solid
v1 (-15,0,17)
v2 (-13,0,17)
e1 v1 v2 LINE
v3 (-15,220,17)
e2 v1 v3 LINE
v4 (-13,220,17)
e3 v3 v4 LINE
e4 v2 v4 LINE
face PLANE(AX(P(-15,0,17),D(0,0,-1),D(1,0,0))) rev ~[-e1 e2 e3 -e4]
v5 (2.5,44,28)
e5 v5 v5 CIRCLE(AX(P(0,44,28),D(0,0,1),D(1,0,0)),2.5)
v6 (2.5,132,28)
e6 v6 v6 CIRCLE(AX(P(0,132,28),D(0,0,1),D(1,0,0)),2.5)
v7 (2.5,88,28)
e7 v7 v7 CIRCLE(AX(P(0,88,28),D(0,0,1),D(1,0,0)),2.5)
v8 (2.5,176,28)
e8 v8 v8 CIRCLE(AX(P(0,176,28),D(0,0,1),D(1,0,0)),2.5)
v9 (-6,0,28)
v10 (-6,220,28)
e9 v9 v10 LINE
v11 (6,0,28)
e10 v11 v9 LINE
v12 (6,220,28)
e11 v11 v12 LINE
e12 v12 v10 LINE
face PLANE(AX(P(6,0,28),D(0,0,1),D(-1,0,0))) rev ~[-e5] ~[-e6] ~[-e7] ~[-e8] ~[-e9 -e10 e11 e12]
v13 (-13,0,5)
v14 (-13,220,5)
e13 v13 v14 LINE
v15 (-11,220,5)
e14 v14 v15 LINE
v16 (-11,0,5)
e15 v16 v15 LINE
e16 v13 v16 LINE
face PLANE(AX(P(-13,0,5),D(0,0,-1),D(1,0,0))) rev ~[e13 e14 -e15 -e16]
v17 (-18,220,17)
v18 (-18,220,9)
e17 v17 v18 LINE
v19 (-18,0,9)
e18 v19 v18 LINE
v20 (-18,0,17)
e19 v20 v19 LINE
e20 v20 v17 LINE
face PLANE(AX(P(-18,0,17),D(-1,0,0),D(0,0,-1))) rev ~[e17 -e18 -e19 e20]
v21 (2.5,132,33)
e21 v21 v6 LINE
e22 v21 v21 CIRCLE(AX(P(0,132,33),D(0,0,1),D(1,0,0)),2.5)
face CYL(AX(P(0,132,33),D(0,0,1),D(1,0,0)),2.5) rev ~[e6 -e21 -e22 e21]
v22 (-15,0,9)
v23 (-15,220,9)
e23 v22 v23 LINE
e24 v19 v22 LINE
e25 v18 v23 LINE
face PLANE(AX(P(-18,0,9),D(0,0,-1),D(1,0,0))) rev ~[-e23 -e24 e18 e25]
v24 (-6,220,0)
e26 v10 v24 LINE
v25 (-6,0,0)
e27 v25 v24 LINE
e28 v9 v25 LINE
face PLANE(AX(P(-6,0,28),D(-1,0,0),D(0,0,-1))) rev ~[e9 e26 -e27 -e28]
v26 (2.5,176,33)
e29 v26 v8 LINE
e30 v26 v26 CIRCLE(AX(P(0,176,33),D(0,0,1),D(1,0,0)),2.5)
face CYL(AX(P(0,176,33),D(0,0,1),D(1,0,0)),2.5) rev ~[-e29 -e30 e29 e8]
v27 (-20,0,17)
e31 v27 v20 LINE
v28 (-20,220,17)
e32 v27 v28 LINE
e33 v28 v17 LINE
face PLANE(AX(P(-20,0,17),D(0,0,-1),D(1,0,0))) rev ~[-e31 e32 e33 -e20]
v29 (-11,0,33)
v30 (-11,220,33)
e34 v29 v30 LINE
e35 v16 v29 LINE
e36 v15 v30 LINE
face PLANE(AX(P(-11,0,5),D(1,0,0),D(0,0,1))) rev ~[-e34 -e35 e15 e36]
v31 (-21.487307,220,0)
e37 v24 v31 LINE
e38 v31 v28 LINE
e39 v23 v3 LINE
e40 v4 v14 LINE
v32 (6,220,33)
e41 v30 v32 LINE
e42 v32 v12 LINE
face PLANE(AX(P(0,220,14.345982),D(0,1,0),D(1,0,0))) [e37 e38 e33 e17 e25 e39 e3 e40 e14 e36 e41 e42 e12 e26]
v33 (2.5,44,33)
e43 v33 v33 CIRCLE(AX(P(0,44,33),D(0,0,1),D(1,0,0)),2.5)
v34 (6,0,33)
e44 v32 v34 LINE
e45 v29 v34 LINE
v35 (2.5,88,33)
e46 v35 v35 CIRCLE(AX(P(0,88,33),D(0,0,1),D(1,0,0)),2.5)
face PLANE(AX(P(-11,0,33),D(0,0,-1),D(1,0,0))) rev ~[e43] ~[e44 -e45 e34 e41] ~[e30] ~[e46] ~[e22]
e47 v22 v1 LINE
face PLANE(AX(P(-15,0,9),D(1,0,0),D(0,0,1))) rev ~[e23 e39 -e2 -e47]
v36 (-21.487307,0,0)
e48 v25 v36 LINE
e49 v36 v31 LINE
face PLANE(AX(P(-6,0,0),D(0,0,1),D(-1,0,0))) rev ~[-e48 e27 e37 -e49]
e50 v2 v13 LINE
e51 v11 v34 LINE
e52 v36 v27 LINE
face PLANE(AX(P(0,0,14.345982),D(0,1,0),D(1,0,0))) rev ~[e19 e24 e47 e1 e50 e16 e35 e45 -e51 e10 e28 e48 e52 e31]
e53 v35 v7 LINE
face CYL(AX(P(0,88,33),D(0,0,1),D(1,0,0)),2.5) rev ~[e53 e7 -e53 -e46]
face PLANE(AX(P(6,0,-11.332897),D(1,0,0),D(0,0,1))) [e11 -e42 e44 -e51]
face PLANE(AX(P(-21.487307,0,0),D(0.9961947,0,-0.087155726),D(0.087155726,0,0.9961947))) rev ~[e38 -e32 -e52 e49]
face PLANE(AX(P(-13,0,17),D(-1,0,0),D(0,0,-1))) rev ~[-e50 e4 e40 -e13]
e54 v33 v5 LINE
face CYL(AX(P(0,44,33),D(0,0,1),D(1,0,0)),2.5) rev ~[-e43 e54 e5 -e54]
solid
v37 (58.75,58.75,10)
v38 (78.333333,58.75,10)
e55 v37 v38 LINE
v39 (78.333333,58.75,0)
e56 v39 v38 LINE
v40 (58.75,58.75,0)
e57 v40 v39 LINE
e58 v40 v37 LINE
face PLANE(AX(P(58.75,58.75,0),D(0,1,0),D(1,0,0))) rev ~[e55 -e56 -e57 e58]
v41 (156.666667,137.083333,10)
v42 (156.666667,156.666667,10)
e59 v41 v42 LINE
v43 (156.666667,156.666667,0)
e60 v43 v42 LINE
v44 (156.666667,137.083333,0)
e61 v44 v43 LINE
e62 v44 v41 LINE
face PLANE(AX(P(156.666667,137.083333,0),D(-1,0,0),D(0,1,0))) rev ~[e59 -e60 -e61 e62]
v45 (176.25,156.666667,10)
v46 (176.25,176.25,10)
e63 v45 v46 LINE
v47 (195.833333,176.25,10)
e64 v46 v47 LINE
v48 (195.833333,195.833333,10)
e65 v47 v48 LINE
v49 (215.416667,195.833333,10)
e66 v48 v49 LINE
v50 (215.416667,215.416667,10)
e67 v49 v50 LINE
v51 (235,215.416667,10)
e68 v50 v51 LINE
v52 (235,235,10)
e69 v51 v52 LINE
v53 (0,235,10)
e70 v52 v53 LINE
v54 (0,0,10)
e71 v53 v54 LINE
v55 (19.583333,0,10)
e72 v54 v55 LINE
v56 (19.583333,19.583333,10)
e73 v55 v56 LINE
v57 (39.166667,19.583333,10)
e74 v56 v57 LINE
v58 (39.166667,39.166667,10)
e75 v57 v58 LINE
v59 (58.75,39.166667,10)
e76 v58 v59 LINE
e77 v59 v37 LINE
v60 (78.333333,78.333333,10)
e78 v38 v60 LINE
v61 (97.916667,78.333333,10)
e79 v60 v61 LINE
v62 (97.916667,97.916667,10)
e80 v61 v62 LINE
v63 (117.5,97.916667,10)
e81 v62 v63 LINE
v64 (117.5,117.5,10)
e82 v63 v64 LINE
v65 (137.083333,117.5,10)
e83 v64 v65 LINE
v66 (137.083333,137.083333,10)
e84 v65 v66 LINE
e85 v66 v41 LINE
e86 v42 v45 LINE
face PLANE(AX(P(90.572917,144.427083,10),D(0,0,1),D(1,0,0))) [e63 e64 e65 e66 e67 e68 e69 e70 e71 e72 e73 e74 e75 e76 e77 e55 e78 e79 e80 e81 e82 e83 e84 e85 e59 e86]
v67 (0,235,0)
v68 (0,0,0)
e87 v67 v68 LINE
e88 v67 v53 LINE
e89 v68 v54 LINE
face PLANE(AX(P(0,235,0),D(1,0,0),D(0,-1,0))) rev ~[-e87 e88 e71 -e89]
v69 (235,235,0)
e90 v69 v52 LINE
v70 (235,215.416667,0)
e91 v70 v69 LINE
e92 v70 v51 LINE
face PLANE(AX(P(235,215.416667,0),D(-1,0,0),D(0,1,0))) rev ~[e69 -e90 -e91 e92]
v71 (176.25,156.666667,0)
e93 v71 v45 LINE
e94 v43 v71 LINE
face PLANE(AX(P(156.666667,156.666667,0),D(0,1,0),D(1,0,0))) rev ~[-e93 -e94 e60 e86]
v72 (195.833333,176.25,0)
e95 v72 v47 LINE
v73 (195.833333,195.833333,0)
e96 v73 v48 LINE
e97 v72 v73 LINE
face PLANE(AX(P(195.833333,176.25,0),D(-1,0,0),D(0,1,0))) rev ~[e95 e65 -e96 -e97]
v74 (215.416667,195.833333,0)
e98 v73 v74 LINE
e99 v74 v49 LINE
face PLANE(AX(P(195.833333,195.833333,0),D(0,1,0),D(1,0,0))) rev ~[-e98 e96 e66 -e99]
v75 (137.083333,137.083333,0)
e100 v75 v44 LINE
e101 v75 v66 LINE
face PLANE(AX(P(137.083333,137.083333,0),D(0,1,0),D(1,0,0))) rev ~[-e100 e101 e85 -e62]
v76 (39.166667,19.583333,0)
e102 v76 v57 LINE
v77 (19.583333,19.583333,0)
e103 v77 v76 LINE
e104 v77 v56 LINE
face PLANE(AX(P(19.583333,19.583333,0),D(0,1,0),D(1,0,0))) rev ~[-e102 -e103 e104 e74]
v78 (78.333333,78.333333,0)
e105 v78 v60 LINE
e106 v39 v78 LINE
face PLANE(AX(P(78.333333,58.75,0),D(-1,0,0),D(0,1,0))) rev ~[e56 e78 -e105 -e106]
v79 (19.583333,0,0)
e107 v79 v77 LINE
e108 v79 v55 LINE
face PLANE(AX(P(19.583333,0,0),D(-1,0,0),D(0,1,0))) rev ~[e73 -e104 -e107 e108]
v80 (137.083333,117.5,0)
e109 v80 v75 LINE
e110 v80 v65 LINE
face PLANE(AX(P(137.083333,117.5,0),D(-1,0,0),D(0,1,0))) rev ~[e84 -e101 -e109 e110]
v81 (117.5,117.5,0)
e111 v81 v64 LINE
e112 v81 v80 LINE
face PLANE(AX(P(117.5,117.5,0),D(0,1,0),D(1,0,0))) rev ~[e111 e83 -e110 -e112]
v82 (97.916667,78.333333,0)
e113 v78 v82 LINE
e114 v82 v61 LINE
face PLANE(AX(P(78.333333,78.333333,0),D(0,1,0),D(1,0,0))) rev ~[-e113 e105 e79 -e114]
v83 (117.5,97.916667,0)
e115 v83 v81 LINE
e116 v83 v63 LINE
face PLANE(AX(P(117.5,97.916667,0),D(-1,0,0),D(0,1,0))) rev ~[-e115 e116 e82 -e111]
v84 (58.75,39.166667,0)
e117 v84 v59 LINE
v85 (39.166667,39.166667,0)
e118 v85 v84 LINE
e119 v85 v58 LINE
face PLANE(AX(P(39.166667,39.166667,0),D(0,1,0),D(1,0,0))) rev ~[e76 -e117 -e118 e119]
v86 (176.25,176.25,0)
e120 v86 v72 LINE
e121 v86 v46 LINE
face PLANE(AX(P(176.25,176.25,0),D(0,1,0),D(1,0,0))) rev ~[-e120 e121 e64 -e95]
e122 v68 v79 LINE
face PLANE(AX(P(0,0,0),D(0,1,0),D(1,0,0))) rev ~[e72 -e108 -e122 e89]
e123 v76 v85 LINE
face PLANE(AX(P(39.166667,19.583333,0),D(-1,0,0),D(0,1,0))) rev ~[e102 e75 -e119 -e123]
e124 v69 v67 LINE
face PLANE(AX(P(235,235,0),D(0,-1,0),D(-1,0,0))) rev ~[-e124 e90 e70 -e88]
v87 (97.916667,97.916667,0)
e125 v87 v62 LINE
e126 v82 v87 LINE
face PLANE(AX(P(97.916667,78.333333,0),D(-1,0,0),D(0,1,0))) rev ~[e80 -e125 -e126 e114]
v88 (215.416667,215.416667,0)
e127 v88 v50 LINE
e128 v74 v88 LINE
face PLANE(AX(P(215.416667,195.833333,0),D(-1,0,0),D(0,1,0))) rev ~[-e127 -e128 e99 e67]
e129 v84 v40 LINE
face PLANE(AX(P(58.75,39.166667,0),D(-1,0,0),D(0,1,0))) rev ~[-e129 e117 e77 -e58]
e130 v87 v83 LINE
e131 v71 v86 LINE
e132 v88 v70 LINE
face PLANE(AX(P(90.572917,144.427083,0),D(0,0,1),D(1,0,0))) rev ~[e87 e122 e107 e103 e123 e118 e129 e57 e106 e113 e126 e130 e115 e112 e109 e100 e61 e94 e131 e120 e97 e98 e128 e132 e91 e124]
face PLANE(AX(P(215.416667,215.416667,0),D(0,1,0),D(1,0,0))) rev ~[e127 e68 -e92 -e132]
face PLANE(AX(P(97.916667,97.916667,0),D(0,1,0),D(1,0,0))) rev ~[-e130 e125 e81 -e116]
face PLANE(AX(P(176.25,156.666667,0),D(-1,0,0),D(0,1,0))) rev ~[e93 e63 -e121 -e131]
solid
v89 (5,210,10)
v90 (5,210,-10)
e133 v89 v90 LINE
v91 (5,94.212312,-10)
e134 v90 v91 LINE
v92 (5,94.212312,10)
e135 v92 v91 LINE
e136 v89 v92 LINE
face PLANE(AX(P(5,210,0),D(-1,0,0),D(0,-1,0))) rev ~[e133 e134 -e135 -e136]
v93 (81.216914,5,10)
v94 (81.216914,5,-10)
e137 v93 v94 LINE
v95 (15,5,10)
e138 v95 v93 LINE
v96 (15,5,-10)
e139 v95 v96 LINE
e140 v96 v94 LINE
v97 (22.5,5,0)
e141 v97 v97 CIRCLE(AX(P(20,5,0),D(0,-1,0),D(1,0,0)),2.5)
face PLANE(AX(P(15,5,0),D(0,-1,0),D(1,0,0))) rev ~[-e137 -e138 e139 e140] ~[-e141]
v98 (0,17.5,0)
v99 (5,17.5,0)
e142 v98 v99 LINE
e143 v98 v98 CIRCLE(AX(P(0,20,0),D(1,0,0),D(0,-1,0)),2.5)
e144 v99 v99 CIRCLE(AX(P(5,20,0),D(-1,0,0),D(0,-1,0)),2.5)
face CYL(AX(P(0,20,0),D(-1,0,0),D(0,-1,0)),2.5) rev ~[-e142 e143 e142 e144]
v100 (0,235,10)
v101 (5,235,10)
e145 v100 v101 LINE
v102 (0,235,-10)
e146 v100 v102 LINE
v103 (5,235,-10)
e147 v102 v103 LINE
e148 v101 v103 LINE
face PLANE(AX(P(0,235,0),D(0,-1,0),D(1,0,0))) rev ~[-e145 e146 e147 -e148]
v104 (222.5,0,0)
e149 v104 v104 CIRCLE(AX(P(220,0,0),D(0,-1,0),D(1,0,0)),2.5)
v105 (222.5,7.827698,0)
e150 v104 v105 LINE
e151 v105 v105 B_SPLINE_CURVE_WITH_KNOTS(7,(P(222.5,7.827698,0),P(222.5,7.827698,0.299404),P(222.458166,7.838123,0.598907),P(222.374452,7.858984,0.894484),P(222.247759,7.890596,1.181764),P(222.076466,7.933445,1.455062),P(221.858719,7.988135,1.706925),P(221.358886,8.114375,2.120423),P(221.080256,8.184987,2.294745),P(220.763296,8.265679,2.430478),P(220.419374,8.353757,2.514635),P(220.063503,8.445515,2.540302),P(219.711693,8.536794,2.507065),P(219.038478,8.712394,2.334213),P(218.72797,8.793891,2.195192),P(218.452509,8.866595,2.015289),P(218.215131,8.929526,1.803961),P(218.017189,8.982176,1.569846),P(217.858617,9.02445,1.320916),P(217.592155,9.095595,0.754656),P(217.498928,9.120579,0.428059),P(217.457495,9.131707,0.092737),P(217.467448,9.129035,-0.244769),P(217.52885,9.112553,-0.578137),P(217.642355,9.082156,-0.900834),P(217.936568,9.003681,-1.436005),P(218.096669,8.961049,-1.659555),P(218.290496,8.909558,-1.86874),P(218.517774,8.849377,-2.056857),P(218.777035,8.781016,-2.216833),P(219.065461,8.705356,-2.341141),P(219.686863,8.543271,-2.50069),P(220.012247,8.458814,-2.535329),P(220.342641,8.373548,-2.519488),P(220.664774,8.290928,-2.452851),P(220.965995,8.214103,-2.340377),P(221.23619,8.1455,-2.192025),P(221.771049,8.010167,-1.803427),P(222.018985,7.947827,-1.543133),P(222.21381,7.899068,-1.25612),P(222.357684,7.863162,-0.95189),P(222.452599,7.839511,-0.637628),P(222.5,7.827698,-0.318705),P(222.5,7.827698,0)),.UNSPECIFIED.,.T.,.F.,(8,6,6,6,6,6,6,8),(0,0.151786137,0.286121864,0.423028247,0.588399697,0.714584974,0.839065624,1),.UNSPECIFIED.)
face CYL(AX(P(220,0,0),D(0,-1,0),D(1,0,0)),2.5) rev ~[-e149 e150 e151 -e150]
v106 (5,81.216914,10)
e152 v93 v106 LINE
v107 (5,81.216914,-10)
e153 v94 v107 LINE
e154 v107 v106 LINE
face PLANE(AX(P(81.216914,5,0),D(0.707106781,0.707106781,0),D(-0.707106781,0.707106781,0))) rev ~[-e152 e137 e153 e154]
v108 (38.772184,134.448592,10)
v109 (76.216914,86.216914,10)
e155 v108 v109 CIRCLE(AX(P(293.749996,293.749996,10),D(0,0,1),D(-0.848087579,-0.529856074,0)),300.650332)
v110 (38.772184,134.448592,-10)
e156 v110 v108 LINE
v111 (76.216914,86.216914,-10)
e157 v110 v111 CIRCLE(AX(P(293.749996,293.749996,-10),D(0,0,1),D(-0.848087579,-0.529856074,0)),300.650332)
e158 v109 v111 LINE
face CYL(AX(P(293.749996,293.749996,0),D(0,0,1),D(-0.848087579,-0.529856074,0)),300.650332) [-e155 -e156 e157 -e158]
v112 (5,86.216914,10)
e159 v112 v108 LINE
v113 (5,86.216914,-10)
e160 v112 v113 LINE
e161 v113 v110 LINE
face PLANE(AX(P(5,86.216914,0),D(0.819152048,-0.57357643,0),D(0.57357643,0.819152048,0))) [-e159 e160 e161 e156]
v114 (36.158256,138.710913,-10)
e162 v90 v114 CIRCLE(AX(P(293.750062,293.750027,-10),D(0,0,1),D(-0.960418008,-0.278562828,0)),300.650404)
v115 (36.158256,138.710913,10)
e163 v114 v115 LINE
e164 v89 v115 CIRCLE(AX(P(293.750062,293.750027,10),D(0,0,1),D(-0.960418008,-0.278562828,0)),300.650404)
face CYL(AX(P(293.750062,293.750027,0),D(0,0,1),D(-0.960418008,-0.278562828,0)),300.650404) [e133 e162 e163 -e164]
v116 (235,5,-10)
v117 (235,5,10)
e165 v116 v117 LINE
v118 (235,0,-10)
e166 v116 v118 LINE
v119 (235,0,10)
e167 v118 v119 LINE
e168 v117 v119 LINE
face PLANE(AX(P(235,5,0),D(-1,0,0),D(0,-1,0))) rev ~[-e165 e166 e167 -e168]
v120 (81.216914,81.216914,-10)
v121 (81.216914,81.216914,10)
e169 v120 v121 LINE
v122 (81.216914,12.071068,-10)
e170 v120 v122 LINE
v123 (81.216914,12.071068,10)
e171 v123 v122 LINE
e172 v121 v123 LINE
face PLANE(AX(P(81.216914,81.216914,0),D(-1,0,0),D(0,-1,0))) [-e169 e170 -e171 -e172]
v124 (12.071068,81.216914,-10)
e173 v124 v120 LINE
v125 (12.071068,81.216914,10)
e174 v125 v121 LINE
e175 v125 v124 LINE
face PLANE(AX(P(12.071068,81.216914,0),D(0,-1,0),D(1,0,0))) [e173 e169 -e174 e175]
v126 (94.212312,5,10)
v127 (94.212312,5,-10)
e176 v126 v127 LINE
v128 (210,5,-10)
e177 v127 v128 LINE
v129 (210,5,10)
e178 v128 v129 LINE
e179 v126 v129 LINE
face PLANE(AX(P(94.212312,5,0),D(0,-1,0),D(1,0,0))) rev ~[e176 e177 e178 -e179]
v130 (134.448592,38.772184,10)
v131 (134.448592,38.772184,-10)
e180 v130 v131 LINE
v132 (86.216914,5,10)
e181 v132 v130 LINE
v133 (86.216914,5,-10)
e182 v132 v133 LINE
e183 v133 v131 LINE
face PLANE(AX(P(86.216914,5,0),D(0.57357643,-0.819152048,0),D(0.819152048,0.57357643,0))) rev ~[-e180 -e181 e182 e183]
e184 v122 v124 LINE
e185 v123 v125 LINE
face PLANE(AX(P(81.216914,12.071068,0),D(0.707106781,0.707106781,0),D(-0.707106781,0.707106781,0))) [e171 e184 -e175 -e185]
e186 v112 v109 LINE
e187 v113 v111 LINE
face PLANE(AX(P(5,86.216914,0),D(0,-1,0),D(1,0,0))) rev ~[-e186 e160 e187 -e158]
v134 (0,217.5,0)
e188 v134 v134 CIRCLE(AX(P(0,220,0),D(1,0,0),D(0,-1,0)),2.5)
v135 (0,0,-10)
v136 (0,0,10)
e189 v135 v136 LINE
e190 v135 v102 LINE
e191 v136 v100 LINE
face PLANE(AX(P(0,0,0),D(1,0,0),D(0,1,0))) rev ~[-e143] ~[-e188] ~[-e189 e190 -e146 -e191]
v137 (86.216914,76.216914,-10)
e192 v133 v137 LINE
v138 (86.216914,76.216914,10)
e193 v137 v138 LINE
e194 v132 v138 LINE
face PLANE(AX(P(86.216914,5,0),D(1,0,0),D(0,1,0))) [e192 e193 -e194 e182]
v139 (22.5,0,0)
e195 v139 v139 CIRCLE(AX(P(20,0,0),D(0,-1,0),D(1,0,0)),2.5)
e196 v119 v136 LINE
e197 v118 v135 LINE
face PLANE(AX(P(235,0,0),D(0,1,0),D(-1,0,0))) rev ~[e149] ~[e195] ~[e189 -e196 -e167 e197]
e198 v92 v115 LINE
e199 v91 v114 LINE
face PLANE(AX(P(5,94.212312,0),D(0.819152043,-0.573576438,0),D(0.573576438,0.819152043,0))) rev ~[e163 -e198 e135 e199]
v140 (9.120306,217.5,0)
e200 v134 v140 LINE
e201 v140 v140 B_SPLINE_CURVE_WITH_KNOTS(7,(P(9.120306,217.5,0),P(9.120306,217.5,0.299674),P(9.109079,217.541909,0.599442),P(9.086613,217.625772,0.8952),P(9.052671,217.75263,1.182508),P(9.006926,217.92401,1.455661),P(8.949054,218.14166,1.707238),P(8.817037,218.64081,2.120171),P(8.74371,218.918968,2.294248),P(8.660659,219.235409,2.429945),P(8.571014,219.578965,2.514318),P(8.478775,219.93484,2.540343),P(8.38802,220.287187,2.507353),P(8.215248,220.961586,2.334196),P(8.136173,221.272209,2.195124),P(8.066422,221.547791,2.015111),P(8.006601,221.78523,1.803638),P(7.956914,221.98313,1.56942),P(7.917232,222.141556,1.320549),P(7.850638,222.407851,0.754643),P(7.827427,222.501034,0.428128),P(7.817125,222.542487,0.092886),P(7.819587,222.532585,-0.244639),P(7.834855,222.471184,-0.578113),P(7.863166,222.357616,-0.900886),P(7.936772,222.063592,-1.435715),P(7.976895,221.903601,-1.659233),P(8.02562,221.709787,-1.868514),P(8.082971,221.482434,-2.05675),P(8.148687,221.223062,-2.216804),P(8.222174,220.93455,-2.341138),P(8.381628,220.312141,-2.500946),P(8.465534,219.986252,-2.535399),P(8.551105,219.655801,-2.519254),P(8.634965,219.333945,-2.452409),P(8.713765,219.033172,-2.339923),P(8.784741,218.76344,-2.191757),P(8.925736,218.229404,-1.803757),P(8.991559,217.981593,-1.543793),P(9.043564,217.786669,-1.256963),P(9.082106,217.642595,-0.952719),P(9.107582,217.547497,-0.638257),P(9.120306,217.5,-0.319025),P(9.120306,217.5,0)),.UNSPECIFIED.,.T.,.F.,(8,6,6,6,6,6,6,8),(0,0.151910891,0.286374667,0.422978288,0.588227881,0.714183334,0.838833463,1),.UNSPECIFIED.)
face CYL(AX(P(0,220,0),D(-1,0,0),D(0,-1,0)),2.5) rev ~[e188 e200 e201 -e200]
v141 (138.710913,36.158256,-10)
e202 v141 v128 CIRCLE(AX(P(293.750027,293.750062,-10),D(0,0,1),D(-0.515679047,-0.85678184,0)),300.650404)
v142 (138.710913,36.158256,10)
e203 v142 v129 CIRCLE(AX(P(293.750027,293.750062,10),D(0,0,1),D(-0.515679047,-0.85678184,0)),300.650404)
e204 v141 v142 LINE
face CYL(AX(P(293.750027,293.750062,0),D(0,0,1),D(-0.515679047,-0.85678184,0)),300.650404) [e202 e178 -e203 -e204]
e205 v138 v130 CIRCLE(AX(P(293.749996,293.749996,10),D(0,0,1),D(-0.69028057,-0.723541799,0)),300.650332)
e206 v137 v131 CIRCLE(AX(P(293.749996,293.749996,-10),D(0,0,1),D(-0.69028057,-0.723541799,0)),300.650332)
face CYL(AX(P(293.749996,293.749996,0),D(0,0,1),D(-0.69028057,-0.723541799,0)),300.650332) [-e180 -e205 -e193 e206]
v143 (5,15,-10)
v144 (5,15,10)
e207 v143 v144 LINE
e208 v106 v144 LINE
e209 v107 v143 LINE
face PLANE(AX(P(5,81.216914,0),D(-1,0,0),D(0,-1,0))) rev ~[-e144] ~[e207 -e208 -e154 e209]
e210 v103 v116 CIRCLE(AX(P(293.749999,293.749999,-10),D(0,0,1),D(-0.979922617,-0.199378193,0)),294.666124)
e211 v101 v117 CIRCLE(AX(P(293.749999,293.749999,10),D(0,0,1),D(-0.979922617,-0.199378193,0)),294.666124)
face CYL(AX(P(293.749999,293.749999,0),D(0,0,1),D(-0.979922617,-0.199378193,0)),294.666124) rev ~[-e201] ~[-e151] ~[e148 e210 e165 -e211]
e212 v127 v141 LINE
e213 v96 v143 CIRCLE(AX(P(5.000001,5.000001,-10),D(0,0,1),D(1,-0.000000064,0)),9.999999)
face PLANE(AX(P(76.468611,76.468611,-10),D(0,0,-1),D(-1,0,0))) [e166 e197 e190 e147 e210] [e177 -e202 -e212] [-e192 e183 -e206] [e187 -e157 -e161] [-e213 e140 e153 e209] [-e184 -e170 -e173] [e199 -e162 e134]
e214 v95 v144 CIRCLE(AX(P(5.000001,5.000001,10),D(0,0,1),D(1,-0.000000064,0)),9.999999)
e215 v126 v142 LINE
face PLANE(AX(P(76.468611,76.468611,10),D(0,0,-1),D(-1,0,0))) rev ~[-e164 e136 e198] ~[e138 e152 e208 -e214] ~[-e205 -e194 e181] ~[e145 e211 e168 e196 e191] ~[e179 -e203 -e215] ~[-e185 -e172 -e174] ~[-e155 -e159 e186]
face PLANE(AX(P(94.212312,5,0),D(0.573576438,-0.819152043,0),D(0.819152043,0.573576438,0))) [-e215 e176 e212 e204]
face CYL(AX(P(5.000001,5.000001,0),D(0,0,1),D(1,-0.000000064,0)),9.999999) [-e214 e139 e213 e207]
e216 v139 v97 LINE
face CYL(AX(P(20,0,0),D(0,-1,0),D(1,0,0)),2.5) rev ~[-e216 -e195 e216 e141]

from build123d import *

# Parameters (mm, degrees)
PAD_DEPTH            = 10
POCKET_DEPTH         = 3
PAD001_DEPTH         = 10
PAD001_DEPTH_BACK    = 10
SKETCH003_R          = 2.5
POCKET001_DEPTH      = 50
SKETCH004_R          = 3.175
PAD002_DEPTH         = 5
FILLET_R             = 3.175
SKETCH009_R          = 2.5
POCKET004_DEPTH      = 20
SKETCH010_W          = 169.420898
SKETCH010_H          = 244.634888
POCKET005_DEPTH      = 100
POCKET005_DEPTH_BACK = -100
PAD003_DEPTH         = 220
SKETCH007_R          = 2.5
POCKET002_DEPTH      = 5
SKETCH008_W          = 33.656536
SKETCH008_H          = 69.505769
POCKET003_DEPTH      = 1000
POCKET003_DEPTH_BACK = -10000


with BuildPart() as tetris:
    # Sketch → Pad (new body)
    with BuildSketch(Plane.XY):
        Polygon((0, 0), (19.583333, 0), (19.583333, 19.583333), (39.166667, 19.583333), (39.166667, 39.166667), (58.75, 39.166667), (58.75, 58.75), (78.333333, 58.75), (78.333333, 78.333333), (97.916667, 78.333333), (97.916667, 97.916667), (117.5, 97.916667), (117.5, 117.5), (137.083333, 117.5), (137.083333, 137.083333), (156.666667, 137.083333), (156.666667, 156.666667), (176.25, 156.666667), (176.25, 176.25), (195.833333, 176.25), (195.833333, 195.833333), (215.416667, 195.833333), (215.416667, 215.416667), (235, 215.416667), (235, 235), (0, 235), align=None)
    extrude(amount=PAD_DEPTH)

    # Sketch001 (on Face28 of Pad) → Pocket (cut)
    with BuildSketch(Plane.XY.offset(10)):
        Polygon((74.866753, 25.089148), (93.950086, 25.089148), (94.200086, 24.839148), (93.950086, 24.589148), (74.866753, 24.589148), (74.616753, 24.839148), align=None)
    extrude(amount=-POCKET_DEPTH, mode=Mode.SUBTRACT)


with BuildPart() as simple:
    # Sketch002 → Pad001 (new body, two sides)
    with BuildSketch(Plane.XY) as pad001_sk:
        with BuildLine():
            Line((0, 0), (0, 235))
            Line((0, 235), (5, 235))
            ThreePointArc((5, 235), (85.389585, 85.389585), (235, 5))
            Line((235, 5), (235, 0))
            Line((235, 0), (0, 0))
        make_face()
        with BuildLine():
            Line((5, 210), (5, 94.212312))
            Line((5, 94.212312), (36.158256, 138.710913))
            ThreePointArc((5, 210), (18.263415, 173.34333), (36.158256, 138.710913))
        make_face(mode=Mode.SUBTRACT)
        with BuildLine():
            Line((15, 5), (81.216914, 5))
            Line((81.216914, 5), (5, 81.216914))
            Line((5, 81.216914), (5, 15))
            ThreePointArc((15, 5), (12.071068, 12.071068), (5, 15))
        make_face(mode=Mode.SUBTRACT)
        with BuildLine():
            Line((5, 86.216914), (76.216914, 86.216914))
            ThreePointArc((38.772184, 134.448592), (56.266923, 109.379684), (76.216914, 86.216914))
            Line((5, 86.216914), (38.772184, 134.448592))
        make_face(mode=Mode.SUBTRACT)
        with BuildLine():
            Line((86.216914, 5), (86.216914, 76.216914))
            ThreePointArc((86.216914, 76.216914), (109.379684, 56.266923), (134.448592, 38.772184))
            Line((86.216914, 5), (134.448592, 38.772184))
        make_face(mode=Mode.SUBTRACT)
        Polygon((12.071068, 81.216914), (81.216914, 81.216914), (81.216914, 12.071068), align=None, mode=Mode.SUBTRACT)
        with BuildLine():
            Line((94.212312, 5), (210, 5))
            ThreePointArc((138.710913, 36.158256), (173.34333, 18.263415), (210, 5))
            Line((94.212312, 5), (138.710913, 36.158256))
        make_face(mode=Mode.SUBTRACT)
    extrude(amount=PAD001_DEPTH)
    extrude(pad001_sk.sketch, amount=-PAD001_DEPTH_BACK)

    # Sketch003 (on Face5 of Pad001) → Pocket001 (cut)
    with BuildSketch(Plane.XZ):
        with Locations((20, 0)):
            Circle(SKETCH003_R)
        with Locations((220, 0)):
            Circle(SKETCH003_R)
    extrude(amount=-POCKET001_DEPTH, mode=Mode.SUBTRACT)

    # Sketch004 (on Face1 of Pocket001) → Pad002 (join)
    with BuildSketch(Plane(origin=(0, 0, 0), x_dir=(0, -1, 0), z_dir=(-1, 0, 0))):
        with Locations((-220, 0)):
            Circle(SKETCH004_R)
    extrude(amount=PAD002_DEPTH)

    # Fillet
    fillet_edges = [simple.edges().sort_by_distance(p)[0] for p in [
        (-5, 223.175, 0),
    ]]
    fillet(fillet_edges, radius=FILLET_R)

    # Sketch009 (on Face3 of Fillet) → Pocket004 (cut)
    with BuildSketch(Plane(origin=(0, 0, 0), x_dir=(0, -1, 0), z_dir=(-1, 0, 0))):
        with Locations((-20, 0)):
            Circle(SKETCH009_R)
        with Locations((-220, 0)):
            Circle(SKETCH009_R)
    extrude(amount=-POCKET004_DEPTH, mode=Mode.SUBTRACT)

    # Sketch010 → Pocket005 (cut, two sides)
    with BuildSketch(Plane.XY) as pocket005_sk:
        with Locations((-84.710449, 122.317444)):
            Rectangle(SKETCH010_W, SKETCH010_H)
    extrude(amount=-POCKET005_DEPTH, mode=Mode.SUBTRACT)
    extrude(pocket005_sk.sketch, amount=-POCKET005_DEPTH_BACK, mode=Mode.SUBTRACT)


with BuildPart() as bin_hangar:
    # Pad003_Profile → Pad003 (new body)
    with BuildSketch(Plane(origin=(0, 0, 14.181195), x_dir=(1, 0, 0), z_dir=(0, 1, 0))):
        Polygon((-11, 9.181195), (-11, -18.818805), (11, -18.818805), (11, 9.181195), (13, 9.181195), (13, -2.818805), (15, -2.818805), (15, 5.181195), (18, 5.181195), (18, -2.818805), (20, -2.818805), (21.487307, 14.181195), (6, 14.181195), (6, -13.818805), (-6, -13.818805), (-6, 14.181195), (-21.487307, 14.181195), (-20, -2.818805), (-18, -2.818805), (-18, 5.181195), (-15, 5.181195), (-15, -2.818805), (-13, -2.818805), (-13, 9.181195), align=None)
    extrude(amount=PAD003_DEPTH)

    # Sketch007 (on Face24 of Pad003) → Pocket002 (cut)
    with BuildSketch(Plane.XY.offset(33)):
        with Locations((0, 44)):
            Circle(SKETCH007_R)
        with Locations((0, 88)):
            Circle(SKETCH007_R)
        with Locations((0, 132)):
            Circle(SKETCH007_R)
        with Locations((0, 176)):
            Circle(SKETCH007_R)
    extrude(amount=-POCKET002_DEPTH, mode=Mode.SUBTRACT)

    # Sketch008 → Pocket003 (cut, two sides)
    with BuildSketch(Plane.XZ) as pocket003_sk:
        with Locations((22.828268, 23.419987)):
            Rectangle(SKETCH008_W, SKETCH008_H)
    extrude(amount=-POCKET003_DEPTH, mode=Mode.SUBTRACT)
    extrude(pocket003_sk.sketch, amount=-POCKET003_DEPTH_BACK, mode=Mode.SUBTRACT)


solid = Compound([tetris.part, simple.part, bin_hangar.part])
